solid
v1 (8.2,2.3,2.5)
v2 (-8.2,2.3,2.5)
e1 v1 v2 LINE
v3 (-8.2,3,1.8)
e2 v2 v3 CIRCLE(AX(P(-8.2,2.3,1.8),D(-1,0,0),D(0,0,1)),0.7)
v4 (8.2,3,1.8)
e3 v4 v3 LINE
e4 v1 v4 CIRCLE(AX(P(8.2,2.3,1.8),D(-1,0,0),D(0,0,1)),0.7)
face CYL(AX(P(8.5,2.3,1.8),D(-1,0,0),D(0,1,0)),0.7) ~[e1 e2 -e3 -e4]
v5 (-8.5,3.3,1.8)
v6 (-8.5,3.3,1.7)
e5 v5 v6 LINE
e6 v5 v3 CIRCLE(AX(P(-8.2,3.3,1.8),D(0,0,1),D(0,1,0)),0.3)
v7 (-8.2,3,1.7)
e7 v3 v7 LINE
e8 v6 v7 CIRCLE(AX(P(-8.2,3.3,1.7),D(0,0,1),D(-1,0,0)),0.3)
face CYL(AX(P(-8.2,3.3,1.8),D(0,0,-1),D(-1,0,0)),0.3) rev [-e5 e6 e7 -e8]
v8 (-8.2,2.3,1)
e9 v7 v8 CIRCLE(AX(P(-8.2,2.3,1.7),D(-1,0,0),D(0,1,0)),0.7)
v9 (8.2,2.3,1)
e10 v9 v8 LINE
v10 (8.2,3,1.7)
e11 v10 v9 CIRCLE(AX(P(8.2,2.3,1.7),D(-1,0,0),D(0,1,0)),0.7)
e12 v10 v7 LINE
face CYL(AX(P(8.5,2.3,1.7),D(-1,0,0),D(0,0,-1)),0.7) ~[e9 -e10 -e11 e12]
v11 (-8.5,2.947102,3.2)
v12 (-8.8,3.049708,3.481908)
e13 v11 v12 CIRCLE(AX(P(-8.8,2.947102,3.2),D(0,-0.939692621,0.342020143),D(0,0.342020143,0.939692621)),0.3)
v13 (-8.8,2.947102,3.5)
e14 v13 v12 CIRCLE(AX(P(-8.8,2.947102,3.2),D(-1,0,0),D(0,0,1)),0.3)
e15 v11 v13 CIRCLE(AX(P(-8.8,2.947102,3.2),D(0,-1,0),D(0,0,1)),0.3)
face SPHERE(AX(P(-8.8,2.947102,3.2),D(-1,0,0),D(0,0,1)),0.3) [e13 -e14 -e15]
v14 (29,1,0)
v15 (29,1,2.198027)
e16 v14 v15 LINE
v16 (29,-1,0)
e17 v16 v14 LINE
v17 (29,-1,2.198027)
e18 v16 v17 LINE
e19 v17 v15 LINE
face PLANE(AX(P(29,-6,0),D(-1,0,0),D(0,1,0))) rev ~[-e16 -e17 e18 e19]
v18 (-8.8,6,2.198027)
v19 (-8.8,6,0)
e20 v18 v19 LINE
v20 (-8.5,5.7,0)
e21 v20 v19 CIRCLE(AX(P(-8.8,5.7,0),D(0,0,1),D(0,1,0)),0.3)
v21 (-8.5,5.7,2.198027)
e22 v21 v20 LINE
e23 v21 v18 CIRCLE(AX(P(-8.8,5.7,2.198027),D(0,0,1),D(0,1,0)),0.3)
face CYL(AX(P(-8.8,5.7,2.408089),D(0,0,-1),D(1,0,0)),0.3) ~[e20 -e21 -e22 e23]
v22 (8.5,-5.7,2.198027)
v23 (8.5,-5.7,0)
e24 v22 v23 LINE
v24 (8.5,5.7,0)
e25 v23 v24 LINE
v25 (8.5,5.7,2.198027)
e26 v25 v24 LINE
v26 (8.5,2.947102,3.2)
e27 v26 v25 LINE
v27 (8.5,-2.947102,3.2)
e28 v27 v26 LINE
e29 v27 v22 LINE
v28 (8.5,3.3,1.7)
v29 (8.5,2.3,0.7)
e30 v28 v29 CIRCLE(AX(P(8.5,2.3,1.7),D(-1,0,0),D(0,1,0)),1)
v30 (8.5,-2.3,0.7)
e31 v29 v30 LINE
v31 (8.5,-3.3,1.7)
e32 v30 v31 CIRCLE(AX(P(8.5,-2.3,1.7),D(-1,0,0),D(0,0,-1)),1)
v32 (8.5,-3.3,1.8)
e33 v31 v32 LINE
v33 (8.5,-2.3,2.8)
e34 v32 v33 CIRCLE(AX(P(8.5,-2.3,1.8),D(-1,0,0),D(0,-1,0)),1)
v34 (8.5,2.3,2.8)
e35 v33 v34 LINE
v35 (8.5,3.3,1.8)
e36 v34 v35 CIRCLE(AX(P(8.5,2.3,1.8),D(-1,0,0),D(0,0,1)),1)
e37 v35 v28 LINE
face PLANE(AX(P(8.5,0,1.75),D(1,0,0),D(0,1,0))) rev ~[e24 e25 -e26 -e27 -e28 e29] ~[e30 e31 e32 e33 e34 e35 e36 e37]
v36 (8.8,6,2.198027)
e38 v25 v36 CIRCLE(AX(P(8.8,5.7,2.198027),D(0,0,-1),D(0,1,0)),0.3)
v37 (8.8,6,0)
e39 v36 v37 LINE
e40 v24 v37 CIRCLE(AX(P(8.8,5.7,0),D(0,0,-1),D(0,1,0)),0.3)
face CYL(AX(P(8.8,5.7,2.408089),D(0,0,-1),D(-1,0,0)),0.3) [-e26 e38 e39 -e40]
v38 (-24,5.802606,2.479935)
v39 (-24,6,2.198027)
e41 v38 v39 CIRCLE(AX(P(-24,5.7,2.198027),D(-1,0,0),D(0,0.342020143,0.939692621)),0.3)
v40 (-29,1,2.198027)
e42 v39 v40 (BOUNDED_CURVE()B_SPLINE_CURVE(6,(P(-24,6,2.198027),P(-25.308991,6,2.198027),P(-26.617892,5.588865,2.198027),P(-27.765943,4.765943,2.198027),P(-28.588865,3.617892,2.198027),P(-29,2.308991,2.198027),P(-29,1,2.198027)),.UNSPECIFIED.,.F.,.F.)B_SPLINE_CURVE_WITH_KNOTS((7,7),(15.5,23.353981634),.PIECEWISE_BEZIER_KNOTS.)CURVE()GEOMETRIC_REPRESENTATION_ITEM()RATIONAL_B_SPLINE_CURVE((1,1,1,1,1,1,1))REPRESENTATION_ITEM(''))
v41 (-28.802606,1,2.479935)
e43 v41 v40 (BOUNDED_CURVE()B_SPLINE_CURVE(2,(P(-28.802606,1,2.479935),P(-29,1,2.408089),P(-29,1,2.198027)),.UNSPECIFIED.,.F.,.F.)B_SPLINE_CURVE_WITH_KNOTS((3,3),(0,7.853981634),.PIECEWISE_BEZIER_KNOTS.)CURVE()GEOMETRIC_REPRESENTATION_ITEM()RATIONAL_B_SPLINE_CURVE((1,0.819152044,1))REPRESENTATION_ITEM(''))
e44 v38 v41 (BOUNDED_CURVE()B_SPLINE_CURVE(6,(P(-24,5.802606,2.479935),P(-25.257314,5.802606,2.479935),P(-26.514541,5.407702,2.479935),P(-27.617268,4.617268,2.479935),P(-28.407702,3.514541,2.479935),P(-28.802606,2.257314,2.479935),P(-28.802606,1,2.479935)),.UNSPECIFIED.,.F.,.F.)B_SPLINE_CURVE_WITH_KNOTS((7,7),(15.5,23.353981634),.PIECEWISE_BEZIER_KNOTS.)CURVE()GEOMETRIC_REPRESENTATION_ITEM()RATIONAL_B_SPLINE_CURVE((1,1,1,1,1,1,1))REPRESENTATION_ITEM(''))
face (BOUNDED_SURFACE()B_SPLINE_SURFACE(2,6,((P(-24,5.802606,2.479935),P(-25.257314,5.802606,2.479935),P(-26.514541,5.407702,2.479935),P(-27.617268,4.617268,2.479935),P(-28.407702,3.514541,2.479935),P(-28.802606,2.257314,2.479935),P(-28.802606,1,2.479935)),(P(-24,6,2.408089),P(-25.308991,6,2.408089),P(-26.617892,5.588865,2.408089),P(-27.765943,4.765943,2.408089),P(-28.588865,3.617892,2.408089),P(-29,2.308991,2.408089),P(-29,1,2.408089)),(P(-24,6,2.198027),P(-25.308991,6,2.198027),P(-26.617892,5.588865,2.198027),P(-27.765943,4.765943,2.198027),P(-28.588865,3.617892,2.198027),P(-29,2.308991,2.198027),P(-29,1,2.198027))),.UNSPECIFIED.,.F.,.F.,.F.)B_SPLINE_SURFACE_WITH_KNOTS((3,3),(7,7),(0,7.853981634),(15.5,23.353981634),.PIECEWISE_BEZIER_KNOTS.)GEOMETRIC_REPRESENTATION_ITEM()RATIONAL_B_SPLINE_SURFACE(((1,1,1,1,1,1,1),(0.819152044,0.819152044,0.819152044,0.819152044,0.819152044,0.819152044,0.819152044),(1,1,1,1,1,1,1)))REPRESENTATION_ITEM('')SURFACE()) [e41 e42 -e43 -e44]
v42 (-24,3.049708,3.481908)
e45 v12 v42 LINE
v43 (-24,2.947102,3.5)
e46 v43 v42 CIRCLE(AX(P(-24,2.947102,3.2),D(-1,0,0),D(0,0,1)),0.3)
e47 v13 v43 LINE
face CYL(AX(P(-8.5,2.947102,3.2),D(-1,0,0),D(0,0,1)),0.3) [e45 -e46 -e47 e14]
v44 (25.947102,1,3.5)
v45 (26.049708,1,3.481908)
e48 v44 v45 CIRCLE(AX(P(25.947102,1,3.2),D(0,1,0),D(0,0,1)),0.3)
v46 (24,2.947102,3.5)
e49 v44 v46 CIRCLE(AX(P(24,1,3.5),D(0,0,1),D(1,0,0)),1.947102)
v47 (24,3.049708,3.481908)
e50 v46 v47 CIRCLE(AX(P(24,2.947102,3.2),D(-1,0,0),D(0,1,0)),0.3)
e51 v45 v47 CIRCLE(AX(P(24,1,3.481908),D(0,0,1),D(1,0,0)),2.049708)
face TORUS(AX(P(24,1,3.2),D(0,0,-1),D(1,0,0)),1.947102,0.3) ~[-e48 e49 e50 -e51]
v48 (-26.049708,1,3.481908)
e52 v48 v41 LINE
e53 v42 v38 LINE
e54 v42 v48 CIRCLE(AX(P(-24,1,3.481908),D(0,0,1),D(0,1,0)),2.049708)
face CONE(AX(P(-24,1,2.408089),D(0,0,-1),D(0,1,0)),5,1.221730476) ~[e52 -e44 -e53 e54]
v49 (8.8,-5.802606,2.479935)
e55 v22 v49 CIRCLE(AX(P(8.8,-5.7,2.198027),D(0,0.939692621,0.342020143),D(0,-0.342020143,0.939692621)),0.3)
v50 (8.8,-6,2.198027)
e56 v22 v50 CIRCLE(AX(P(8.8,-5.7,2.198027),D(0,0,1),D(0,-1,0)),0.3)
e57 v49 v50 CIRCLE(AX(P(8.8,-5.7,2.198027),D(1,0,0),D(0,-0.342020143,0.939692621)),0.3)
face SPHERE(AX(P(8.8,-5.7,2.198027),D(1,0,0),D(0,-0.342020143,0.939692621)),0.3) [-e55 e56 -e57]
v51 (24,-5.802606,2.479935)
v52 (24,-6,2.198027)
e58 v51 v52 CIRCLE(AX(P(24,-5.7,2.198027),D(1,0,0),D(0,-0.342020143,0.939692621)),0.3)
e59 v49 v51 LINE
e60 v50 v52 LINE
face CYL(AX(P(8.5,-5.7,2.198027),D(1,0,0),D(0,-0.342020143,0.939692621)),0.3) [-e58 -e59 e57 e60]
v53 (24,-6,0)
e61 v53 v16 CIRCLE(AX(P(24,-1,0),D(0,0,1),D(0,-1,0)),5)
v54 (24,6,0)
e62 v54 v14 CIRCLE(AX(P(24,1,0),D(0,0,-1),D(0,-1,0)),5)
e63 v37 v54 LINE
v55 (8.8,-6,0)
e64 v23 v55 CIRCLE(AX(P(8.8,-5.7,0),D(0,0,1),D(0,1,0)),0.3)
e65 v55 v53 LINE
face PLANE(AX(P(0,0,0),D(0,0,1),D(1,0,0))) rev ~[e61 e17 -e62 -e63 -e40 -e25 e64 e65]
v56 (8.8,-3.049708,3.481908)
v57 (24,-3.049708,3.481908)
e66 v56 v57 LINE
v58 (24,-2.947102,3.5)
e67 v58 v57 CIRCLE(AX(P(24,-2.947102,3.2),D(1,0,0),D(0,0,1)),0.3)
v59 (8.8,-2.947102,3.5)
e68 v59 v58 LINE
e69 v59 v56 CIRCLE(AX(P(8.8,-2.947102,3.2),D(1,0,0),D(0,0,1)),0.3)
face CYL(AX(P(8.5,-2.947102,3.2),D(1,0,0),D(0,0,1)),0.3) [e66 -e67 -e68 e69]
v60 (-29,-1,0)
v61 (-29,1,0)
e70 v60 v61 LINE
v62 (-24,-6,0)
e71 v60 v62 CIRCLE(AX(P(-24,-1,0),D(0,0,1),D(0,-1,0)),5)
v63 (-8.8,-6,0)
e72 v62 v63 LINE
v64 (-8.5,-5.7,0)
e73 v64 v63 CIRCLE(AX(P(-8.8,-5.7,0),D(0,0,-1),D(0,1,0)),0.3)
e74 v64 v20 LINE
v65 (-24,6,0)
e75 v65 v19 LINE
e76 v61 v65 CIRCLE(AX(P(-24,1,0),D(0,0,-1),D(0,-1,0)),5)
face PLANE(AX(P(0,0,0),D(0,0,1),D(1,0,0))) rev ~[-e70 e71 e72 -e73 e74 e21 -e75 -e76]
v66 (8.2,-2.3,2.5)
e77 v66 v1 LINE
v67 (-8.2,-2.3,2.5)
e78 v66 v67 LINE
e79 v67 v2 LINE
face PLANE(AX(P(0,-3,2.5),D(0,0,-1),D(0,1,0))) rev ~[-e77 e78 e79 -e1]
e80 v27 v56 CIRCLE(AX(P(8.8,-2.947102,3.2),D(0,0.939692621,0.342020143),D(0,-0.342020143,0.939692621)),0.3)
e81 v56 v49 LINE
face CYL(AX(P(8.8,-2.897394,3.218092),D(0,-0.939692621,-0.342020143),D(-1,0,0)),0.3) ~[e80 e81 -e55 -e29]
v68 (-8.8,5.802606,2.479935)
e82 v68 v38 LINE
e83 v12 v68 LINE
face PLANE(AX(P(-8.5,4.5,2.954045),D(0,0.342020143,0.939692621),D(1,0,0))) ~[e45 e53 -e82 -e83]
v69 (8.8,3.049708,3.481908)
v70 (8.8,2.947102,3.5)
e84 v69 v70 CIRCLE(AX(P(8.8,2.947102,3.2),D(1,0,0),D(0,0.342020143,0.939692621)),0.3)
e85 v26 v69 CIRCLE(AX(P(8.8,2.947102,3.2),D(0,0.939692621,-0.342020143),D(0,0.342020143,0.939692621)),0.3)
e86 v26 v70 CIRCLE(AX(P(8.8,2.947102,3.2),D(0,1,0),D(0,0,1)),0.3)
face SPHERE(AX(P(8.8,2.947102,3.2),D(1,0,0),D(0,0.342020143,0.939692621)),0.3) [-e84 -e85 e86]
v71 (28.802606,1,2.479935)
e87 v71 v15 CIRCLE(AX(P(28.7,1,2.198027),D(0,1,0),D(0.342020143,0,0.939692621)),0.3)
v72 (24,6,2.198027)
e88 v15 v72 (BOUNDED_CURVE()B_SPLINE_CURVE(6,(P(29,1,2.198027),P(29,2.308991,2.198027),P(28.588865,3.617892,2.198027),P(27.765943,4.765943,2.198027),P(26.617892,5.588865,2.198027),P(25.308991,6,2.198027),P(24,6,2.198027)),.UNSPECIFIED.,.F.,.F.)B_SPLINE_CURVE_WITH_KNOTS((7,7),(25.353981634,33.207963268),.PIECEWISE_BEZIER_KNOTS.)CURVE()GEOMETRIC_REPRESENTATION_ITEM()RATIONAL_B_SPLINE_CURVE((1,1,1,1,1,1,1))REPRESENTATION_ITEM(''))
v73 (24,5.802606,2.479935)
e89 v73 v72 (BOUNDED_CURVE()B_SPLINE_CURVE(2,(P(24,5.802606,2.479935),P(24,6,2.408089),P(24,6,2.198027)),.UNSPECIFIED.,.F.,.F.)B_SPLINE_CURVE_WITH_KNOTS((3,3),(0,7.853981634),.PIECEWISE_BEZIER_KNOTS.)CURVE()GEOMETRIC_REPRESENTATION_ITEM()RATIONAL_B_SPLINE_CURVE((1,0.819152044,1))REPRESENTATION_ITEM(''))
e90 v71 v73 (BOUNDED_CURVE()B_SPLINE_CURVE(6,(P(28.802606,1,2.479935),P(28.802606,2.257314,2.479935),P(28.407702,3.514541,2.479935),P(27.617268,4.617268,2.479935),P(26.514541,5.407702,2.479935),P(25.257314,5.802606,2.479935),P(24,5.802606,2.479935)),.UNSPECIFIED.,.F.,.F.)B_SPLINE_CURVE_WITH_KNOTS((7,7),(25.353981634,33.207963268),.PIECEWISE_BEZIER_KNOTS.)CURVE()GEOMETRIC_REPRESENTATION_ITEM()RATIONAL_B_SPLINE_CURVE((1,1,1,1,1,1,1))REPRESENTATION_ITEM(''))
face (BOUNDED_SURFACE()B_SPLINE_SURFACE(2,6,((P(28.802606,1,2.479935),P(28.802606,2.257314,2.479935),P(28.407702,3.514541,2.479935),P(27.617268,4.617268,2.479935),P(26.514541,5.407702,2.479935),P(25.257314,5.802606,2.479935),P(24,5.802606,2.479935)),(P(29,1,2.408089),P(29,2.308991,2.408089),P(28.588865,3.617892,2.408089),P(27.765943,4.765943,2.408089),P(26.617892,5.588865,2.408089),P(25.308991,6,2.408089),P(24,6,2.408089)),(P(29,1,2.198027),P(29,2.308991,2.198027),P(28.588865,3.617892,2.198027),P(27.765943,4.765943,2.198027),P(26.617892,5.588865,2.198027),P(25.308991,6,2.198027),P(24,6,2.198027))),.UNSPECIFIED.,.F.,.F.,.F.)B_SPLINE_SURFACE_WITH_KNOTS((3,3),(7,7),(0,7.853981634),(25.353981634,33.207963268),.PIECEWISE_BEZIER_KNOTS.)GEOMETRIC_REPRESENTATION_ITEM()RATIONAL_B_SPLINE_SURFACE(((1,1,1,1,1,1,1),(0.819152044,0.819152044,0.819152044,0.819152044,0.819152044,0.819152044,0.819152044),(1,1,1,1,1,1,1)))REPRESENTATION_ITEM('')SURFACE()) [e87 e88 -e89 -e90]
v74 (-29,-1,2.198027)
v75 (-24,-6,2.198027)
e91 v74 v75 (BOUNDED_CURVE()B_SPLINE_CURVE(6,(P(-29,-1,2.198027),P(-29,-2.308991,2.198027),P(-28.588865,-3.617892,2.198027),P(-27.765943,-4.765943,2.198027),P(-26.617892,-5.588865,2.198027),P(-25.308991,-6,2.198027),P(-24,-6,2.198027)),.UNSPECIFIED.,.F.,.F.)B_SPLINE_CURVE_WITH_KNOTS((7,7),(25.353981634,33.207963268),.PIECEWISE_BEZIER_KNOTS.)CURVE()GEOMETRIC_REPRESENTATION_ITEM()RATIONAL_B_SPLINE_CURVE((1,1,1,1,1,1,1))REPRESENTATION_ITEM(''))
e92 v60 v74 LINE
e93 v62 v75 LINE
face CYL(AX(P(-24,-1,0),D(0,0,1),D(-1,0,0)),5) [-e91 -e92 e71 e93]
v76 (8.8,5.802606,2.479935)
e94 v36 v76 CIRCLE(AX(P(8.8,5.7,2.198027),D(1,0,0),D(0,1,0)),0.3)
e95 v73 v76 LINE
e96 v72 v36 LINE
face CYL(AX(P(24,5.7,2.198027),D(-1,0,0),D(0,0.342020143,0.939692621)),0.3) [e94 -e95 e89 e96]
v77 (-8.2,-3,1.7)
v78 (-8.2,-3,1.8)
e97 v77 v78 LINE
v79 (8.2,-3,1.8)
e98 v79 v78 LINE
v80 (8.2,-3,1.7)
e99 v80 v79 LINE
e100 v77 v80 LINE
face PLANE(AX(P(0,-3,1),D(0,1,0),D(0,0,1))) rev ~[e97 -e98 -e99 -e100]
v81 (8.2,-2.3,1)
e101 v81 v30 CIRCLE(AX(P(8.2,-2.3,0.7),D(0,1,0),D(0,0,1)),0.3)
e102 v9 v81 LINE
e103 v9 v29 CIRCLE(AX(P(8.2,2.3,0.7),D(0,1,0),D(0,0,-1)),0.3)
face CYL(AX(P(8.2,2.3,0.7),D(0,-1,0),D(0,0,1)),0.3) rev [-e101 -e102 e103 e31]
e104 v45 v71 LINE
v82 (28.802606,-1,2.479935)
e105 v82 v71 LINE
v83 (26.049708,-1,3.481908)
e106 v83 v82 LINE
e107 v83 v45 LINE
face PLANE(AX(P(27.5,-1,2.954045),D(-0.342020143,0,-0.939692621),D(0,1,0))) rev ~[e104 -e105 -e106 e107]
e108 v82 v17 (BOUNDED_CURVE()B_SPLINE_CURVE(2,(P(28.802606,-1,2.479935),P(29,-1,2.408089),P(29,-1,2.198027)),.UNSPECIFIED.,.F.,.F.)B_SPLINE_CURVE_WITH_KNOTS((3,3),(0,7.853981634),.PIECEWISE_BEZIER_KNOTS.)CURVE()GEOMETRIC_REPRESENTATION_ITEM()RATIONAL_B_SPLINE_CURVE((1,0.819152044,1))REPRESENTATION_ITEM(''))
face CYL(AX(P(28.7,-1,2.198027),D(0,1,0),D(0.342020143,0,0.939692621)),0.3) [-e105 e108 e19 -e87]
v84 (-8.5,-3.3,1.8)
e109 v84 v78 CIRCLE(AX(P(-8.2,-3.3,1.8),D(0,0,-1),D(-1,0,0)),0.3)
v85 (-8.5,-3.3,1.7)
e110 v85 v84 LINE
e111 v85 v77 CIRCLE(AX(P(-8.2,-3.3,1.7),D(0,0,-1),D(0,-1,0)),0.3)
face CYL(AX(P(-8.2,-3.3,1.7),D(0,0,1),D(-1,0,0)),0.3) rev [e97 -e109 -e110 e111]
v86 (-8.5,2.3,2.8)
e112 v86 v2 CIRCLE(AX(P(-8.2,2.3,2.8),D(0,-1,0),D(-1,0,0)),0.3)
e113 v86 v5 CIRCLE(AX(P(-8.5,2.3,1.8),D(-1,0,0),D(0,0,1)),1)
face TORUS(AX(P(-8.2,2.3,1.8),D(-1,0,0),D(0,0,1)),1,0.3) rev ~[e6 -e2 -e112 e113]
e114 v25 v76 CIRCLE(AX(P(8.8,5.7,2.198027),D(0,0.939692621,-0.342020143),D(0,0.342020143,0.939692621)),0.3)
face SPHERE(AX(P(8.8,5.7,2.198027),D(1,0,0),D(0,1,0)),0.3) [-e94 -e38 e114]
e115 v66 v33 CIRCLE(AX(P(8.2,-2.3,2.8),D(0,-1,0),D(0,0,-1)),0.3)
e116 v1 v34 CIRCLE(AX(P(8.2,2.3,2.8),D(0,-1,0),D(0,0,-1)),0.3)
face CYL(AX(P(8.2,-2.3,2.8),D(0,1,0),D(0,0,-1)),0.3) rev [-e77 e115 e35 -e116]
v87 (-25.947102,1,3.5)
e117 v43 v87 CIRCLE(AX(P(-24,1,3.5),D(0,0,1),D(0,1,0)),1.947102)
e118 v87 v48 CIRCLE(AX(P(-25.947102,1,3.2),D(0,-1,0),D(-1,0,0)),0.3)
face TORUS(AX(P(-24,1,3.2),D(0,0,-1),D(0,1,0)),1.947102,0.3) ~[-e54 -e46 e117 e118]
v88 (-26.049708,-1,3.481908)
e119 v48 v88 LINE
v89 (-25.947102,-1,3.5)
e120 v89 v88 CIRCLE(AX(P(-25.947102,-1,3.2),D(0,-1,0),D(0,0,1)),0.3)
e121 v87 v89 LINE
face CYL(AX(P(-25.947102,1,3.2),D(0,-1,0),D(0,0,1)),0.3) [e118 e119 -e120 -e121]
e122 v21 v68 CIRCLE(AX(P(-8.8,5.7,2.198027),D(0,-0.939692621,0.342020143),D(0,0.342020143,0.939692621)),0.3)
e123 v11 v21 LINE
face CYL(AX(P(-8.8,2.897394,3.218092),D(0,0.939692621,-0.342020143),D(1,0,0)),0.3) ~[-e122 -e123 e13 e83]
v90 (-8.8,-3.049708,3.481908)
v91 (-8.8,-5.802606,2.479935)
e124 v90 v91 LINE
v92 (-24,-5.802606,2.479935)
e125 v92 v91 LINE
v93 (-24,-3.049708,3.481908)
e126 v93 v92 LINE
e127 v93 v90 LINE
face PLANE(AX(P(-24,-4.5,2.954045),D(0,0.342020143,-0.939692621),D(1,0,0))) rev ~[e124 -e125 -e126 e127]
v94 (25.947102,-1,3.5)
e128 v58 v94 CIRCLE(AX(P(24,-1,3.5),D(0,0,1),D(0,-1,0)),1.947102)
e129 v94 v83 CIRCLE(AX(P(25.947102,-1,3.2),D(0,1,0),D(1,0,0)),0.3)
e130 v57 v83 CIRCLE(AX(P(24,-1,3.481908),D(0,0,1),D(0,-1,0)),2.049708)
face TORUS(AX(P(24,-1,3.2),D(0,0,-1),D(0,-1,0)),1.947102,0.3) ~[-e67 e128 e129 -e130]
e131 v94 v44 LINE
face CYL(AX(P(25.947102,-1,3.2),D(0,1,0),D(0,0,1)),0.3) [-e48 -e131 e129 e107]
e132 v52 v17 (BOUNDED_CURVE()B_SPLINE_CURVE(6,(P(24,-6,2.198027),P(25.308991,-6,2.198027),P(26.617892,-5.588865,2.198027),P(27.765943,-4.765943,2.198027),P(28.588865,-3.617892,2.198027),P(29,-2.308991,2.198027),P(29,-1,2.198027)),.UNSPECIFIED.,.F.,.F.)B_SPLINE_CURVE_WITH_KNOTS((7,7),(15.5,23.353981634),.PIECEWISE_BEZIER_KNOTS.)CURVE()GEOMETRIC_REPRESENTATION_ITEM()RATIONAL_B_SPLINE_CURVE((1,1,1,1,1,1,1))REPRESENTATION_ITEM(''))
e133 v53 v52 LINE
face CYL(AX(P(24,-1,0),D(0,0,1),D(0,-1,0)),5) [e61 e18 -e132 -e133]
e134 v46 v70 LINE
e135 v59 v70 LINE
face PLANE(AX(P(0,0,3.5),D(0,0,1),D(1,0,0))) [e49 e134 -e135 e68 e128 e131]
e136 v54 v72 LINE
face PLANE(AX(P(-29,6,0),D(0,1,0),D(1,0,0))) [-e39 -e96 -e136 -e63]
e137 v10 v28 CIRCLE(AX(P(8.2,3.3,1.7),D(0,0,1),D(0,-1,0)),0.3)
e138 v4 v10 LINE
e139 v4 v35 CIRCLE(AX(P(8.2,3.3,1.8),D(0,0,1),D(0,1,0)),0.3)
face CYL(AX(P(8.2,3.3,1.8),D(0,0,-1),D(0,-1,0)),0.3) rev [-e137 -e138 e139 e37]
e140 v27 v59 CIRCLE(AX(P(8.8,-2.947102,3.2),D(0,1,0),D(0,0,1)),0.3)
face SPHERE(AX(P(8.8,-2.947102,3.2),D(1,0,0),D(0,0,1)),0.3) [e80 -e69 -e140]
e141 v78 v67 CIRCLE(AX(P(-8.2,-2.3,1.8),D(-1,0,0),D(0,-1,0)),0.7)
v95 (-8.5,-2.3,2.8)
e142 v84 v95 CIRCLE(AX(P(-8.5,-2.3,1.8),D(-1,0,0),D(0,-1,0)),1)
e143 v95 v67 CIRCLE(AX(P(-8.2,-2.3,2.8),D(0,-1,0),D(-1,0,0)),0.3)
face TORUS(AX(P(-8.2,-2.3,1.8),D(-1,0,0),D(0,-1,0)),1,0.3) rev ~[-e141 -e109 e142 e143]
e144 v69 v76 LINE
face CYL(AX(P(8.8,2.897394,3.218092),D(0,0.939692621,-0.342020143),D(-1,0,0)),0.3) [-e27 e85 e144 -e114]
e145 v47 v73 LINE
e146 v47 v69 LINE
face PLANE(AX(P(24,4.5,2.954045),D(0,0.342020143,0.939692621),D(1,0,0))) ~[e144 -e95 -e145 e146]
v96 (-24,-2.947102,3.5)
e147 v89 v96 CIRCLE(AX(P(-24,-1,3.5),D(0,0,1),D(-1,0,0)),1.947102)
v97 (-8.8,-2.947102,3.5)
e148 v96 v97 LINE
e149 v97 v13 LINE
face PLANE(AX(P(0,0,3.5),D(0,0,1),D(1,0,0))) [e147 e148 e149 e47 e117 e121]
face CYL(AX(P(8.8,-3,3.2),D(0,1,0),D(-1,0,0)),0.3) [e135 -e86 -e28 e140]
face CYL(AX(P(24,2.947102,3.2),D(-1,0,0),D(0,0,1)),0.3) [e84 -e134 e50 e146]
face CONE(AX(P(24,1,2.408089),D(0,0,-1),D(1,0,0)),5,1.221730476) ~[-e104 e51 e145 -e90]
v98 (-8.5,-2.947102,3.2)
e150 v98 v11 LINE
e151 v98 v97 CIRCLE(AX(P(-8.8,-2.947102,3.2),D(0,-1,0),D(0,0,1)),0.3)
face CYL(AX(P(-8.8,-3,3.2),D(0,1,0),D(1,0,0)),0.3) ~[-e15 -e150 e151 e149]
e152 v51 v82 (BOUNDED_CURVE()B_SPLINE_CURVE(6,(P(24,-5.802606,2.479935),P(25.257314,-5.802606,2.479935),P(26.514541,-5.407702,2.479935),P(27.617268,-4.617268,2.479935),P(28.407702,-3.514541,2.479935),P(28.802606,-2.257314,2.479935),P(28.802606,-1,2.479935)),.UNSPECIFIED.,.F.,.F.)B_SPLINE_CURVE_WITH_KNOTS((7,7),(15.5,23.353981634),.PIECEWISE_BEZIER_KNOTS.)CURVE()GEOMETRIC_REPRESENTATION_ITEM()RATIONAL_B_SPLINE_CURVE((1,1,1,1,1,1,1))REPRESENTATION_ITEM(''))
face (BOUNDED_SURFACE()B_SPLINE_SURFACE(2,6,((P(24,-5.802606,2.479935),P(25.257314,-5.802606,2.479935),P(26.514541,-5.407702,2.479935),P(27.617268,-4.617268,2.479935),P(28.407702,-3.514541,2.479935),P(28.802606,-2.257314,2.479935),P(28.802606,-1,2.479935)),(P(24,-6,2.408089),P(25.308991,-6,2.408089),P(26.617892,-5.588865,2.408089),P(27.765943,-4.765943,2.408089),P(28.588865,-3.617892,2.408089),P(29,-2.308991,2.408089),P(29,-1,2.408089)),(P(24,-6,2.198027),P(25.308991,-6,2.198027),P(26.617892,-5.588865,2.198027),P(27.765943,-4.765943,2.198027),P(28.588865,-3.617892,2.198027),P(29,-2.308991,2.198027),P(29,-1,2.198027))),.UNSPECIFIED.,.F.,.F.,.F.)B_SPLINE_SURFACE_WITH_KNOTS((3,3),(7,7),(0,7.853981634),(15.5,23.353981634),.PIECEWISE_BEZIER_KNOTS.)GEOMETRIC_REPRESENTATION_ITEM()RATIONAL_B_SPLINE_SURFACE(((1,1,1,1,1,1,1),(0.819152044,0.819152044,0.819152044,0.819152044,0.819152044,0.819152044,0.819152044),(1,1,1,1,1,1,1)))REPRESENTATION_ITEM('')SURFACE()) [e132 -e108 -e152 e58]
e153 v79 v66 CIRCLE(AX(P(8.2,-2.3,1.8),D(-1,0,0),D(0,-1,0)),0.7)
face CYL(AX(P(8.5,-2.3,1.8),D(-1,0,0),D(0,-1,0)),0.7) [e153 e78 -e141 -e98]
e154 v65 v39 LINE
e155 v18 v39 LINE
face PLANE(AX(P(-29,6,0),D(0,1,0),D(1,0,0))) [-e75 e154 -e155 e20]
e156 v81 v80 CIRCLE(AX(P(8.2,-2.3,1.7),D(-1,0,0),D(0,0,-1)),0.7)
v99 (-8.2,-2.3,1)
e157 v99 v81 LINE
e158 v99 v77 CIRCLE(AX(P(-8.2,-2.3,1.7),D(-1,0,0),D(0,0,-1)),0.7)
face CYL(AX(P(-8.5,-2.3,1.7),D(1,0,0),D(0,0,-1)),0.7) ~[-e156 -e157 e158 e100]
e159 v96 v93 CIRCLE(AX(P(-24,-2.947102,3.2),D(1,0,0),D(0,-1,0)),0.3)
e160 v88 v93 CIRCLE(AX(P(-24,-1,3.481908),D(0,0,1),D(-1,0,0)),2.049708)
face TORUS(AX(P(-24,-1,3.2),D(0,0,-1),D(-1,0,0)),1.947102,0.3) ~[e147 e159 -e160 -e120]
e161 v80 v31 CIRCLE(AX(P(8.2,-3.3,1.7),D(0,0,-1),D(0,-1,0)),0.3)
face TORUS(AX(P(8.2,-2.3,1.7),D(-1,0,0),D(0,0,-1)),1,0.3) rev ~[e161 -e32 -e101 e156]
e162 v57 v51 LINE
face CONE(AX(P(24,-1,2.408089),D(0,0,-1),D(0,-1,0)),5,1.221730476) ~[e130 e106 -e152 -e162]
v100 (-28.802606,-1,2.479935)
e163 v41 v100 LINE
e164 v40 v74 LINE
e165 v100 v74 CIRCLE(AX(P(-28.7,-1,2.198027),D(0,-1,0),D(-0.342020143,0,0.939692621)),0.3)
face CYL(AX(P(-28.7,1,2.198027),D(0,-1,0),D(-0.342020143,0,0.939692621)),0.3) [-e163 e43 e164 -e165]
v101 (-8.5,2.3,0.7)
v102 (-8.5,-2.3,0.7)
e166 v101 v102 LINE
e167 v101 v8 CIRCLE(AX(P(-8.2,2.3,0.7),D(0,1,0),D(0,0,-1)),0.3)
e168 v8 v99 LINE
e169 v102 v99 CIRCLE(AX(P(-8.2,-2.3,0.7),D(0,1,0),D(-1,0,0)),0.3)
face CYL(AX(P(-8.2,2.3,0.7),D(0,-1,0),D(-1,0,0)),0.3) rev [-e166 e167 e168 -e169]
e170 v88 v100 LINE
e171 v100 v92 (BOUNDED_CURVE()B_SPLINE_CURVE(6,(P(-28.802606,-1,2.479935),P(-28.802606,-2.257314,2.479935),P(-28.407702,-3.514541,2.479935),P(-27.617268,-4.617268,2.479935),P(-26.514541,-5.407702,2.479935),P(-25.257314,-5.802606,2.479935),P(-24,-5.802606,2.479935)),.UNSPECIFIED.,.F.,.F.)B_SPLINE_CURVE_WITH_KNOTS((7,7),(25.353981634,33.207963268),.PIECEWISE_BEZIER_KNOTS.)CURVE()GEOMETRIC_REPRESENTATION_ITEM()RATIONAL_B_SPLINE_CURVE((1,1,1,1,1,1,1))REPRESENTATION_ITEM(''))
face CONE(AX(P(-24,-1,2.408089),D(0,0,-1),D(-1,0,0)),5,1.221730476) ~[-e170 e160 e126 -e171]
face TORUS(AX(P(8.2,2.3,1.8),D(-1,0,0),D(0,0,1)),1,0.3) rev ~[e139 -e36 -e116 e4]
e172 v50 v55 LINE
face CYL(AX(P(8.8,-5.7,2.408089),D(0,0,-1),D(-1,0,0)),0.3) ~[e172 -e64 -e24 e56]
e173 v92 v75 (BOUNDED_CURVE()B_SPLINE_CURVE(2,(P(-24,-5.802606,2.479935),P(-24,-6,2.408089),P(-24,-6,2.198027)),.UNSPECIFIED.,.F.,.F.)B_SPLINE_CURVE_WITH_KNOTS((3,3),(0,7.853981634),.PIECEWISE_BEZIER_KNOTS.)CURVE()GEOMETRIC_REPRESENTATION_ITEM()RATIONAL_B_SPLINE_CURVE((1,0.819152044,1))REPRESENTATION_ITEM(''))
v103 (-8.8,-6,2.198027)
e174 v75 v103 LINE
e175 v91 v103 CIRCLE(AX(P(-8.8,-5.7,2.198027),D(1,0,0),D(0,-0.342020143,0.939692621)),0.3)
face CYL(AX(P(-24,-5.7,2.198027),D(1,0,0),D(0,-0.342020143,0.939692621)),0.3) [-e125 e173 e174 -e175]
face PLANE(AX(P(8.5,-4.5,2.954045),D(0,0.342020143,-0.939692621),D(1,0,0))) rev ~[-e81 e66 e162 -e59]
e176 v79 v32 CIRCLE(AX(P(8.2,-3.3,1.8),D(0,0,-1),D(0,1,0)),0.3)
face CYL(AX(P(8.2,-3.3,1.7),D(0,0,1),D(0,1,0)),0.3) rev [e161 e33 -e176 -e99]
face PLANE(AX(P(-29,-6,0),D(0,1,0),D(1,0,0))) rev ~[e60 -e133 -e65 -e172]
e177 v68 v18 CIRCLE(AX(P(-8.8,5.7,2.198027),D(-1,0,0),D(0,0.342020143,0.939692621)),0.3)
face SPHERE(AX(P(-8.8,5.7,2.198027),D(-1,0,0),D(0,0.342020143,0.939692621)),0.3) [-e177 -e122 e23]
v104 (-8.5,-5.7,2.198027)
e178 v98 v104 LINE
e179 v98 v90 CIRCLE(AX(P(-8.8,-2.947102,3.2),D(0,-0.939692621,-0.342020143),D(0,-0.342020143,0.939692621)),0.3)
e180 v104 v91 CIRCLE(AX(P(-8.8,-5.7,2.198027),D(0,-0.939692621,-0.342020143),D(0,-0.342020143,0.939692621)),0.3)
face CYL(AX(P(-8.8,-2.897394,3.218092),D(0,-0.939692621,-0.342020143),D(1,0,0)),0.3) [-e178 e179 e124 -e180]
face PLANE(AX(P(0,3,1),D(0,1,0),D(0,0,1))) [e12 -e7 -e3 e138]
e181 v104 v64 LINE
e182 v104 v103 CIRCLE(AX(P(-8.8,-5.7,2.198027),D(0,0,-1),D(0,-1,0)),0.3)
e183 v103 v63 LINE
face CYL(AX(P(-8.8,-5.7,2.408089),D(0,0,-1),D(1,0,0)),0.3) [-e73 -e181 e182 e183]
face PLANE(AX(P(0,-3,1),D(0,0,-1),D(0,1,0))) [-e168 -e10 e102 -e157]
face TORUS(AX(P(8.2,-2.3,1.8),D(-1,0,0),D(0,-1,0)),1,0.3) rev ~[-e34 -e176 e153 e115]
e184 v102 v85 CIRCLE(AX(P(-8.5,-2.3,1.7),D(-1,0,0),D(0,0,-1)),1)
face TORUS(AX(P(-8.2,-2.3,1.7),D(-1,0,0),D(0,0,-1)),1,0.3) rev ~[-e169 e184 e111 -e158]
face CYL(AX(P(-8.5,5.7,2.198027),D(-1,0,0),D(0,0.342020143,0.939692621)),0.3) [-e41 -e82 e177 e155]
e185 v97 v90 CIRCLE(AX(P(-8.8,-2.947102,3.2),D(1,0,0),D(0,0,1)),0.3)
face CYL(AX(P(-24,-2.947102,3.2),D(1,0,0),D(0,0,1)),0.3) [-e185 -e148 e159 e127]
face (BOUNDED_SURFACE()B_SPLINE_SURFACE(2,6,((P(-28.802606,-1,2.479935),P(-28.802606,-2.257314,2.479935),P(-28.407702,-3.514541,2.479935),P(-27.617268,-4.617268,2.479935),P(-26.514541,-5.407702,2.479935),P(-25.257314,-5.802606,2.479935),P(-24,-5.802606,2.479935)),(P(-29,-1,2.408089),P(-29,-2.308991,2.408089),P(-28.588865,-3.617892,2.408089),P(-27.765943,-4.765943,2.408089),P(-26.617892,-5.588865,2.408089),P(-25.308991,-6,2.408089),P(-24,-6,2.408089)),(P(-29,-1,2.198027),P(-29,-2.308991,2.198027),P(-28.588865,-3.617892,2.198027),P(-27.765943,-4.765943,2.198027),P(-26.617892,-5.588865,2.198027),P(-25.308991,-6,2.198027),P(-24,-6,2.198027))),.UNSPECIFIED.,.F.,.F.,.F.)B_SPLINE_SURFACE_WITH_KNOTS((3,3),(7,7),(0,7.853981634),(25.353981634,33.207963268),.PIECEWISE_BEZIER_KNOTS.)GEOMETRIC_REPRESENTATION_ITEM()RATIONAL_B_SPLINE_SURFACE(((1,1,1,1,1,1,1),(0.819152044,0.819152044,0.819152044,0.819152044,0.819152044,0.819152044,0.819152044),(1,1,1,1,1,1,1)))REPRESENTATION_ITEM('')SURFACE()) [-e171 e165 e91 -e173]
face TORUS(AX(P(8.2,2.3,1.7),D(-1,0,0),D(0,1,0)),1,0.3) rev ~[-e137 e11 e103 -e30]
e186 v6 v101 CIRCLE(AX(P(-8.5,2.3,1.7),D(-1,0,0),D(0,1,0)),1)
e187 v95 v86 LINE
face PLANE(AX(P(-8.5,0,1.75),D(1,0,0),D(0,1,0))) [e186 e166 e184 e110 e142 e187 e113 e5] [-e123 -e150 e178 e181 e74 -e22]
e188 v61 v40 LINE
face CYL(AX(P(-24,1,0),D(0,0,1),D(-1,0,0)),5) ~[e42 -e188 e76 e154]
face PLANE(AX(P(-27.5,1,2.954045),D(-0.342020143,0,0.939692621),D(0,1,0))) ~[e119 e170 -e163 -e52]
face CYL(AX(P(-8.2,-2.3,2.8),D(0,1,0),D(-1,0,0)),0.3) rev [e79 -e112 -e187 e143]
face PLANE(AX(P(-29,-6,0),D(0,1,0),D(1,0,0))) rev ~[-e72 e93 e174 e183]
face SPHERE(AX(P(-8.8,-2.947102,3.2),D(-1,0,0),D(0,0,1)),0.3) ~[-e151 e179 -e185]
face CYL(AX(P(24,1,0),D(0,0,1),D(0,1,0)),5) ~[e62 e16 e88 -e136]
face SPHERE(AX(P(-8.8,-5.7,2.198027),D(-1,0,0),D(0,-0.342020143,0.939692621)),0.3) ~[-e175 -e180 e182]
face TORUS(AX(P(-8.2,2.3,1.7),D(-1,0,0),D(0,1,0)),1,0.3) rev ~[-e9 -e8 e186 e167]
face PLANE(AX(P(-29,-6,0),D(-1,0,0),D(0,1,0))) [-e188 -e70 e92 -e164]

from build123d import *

# Parameters (mm, degrees)
F0_W       = 58
F0_H       = 12
F1_DEPTH   = 3.5
F2_W       = 14
F2_H       = 5
F2_W_2     = 6
F2_H_2     = 1.5
F3_DEPTH   = 8.5
F4_R       = 5
F5_SIZE2   = 1.0919107028
F5_SIZE    = 3
F5_2_SIZE2 = 1.0919107028
F5_2_SIZE  = 3
F6_R       = 0.7
F7_R       = 0.3


with BuildPart() as f1:
    # F0 (on Top) → F1 (new body)
    with BuildSketch(Plane.XY):
        Rectangle(F0_W, F0_H)
    extrude(amount=F1_DEPTH)

    # F2 (on Right) → F3 (cut, symmetric)
    with BuildSketch(Plane.YZ):
        with Locations((0, 1.75)):
            Rectangle(F2_W, F2_H)
        with Locations((0, 1.75)):
            Rectangle(F2_W_2, F2_H_2, mode=Mode.SUBTRACT)
    extrude(amount=F3_DEPTH, both=True, mode=Mode.SUBTRACT)

    # F4
    f4_edges = [f1.edges().sort_by_distance(p)[0] for p in [
        (29, -6, 1.75),
        (29, 6, 1.75),
        (-29, -6, 1.75),
        (-29, 6, 1.75),
    ]]
    fillet(f4_edges, radius=F4_R)

    # F5
    f5_edges = [f1.edges().sort_by_distance(p)[0] for p in [
        (16.25, -6, 3.5),
    ]]
    f5_side = f1.faces().sort_by_distance((18.333459, 0, 3.5))[0]
    chamfer(f5_edges, length=F5_SIZE, length2=F5_SIZE2, reference=f5_side)

    # F5#2
    f5_2_edges = [f1.edges().sort_by_distance(p)[0] for p in [
        (-16.25, -6, 3.5),
    ]]
    f5_2_side = f1.faces().sort_by_distance((-18.333459, 0, 3.5))[0]
    chamfer(f5_2_edges, length=F5_2_SIZE, length2=F5_2_SIZE2, reference=f5_2_side)

    # F6
    f6_edges = [f1.edges().sort_by_distance(p)[0] for p in [
        (0, 3, 2.5),
        (0, -3, 2.5),
        (0, -3, 1),
        (0, 3, 1),
    ]]
    fillet(f6_edges, radius=F6_R)

    # F7
    f7_edges = [f1.edges().sort_by_distance(p)[0] for p in [
        (8.5, 0, 2.5),
        (-8.5, 0, 2.5),
        (-8.5, 0, 3.5),
        (-8.5, -4.5, 2.954045),
        (-8.5, -6, 1.204045),
        (-8.5, 4.5, 2.954045),
        (-8.5, 6, 1.204045),
        (8.5, 6, 1.204045),
        (8.5, 4.5, 2.954045),
        (8.5, 0, 3.5),
        (8.5, -4.5, 2.954045),
        (8.5, -6, 1.204045),
        (16.25, -6, 2.408089),
        (25.414214, -2.414214, 3.5),
        (-25.414214, -2.414214, 3.5),
        (-27.535534, -4.535534, 2.408089),
    ]]
    fillet(f7_edges, radius=F7_R)


solid = f1.part
